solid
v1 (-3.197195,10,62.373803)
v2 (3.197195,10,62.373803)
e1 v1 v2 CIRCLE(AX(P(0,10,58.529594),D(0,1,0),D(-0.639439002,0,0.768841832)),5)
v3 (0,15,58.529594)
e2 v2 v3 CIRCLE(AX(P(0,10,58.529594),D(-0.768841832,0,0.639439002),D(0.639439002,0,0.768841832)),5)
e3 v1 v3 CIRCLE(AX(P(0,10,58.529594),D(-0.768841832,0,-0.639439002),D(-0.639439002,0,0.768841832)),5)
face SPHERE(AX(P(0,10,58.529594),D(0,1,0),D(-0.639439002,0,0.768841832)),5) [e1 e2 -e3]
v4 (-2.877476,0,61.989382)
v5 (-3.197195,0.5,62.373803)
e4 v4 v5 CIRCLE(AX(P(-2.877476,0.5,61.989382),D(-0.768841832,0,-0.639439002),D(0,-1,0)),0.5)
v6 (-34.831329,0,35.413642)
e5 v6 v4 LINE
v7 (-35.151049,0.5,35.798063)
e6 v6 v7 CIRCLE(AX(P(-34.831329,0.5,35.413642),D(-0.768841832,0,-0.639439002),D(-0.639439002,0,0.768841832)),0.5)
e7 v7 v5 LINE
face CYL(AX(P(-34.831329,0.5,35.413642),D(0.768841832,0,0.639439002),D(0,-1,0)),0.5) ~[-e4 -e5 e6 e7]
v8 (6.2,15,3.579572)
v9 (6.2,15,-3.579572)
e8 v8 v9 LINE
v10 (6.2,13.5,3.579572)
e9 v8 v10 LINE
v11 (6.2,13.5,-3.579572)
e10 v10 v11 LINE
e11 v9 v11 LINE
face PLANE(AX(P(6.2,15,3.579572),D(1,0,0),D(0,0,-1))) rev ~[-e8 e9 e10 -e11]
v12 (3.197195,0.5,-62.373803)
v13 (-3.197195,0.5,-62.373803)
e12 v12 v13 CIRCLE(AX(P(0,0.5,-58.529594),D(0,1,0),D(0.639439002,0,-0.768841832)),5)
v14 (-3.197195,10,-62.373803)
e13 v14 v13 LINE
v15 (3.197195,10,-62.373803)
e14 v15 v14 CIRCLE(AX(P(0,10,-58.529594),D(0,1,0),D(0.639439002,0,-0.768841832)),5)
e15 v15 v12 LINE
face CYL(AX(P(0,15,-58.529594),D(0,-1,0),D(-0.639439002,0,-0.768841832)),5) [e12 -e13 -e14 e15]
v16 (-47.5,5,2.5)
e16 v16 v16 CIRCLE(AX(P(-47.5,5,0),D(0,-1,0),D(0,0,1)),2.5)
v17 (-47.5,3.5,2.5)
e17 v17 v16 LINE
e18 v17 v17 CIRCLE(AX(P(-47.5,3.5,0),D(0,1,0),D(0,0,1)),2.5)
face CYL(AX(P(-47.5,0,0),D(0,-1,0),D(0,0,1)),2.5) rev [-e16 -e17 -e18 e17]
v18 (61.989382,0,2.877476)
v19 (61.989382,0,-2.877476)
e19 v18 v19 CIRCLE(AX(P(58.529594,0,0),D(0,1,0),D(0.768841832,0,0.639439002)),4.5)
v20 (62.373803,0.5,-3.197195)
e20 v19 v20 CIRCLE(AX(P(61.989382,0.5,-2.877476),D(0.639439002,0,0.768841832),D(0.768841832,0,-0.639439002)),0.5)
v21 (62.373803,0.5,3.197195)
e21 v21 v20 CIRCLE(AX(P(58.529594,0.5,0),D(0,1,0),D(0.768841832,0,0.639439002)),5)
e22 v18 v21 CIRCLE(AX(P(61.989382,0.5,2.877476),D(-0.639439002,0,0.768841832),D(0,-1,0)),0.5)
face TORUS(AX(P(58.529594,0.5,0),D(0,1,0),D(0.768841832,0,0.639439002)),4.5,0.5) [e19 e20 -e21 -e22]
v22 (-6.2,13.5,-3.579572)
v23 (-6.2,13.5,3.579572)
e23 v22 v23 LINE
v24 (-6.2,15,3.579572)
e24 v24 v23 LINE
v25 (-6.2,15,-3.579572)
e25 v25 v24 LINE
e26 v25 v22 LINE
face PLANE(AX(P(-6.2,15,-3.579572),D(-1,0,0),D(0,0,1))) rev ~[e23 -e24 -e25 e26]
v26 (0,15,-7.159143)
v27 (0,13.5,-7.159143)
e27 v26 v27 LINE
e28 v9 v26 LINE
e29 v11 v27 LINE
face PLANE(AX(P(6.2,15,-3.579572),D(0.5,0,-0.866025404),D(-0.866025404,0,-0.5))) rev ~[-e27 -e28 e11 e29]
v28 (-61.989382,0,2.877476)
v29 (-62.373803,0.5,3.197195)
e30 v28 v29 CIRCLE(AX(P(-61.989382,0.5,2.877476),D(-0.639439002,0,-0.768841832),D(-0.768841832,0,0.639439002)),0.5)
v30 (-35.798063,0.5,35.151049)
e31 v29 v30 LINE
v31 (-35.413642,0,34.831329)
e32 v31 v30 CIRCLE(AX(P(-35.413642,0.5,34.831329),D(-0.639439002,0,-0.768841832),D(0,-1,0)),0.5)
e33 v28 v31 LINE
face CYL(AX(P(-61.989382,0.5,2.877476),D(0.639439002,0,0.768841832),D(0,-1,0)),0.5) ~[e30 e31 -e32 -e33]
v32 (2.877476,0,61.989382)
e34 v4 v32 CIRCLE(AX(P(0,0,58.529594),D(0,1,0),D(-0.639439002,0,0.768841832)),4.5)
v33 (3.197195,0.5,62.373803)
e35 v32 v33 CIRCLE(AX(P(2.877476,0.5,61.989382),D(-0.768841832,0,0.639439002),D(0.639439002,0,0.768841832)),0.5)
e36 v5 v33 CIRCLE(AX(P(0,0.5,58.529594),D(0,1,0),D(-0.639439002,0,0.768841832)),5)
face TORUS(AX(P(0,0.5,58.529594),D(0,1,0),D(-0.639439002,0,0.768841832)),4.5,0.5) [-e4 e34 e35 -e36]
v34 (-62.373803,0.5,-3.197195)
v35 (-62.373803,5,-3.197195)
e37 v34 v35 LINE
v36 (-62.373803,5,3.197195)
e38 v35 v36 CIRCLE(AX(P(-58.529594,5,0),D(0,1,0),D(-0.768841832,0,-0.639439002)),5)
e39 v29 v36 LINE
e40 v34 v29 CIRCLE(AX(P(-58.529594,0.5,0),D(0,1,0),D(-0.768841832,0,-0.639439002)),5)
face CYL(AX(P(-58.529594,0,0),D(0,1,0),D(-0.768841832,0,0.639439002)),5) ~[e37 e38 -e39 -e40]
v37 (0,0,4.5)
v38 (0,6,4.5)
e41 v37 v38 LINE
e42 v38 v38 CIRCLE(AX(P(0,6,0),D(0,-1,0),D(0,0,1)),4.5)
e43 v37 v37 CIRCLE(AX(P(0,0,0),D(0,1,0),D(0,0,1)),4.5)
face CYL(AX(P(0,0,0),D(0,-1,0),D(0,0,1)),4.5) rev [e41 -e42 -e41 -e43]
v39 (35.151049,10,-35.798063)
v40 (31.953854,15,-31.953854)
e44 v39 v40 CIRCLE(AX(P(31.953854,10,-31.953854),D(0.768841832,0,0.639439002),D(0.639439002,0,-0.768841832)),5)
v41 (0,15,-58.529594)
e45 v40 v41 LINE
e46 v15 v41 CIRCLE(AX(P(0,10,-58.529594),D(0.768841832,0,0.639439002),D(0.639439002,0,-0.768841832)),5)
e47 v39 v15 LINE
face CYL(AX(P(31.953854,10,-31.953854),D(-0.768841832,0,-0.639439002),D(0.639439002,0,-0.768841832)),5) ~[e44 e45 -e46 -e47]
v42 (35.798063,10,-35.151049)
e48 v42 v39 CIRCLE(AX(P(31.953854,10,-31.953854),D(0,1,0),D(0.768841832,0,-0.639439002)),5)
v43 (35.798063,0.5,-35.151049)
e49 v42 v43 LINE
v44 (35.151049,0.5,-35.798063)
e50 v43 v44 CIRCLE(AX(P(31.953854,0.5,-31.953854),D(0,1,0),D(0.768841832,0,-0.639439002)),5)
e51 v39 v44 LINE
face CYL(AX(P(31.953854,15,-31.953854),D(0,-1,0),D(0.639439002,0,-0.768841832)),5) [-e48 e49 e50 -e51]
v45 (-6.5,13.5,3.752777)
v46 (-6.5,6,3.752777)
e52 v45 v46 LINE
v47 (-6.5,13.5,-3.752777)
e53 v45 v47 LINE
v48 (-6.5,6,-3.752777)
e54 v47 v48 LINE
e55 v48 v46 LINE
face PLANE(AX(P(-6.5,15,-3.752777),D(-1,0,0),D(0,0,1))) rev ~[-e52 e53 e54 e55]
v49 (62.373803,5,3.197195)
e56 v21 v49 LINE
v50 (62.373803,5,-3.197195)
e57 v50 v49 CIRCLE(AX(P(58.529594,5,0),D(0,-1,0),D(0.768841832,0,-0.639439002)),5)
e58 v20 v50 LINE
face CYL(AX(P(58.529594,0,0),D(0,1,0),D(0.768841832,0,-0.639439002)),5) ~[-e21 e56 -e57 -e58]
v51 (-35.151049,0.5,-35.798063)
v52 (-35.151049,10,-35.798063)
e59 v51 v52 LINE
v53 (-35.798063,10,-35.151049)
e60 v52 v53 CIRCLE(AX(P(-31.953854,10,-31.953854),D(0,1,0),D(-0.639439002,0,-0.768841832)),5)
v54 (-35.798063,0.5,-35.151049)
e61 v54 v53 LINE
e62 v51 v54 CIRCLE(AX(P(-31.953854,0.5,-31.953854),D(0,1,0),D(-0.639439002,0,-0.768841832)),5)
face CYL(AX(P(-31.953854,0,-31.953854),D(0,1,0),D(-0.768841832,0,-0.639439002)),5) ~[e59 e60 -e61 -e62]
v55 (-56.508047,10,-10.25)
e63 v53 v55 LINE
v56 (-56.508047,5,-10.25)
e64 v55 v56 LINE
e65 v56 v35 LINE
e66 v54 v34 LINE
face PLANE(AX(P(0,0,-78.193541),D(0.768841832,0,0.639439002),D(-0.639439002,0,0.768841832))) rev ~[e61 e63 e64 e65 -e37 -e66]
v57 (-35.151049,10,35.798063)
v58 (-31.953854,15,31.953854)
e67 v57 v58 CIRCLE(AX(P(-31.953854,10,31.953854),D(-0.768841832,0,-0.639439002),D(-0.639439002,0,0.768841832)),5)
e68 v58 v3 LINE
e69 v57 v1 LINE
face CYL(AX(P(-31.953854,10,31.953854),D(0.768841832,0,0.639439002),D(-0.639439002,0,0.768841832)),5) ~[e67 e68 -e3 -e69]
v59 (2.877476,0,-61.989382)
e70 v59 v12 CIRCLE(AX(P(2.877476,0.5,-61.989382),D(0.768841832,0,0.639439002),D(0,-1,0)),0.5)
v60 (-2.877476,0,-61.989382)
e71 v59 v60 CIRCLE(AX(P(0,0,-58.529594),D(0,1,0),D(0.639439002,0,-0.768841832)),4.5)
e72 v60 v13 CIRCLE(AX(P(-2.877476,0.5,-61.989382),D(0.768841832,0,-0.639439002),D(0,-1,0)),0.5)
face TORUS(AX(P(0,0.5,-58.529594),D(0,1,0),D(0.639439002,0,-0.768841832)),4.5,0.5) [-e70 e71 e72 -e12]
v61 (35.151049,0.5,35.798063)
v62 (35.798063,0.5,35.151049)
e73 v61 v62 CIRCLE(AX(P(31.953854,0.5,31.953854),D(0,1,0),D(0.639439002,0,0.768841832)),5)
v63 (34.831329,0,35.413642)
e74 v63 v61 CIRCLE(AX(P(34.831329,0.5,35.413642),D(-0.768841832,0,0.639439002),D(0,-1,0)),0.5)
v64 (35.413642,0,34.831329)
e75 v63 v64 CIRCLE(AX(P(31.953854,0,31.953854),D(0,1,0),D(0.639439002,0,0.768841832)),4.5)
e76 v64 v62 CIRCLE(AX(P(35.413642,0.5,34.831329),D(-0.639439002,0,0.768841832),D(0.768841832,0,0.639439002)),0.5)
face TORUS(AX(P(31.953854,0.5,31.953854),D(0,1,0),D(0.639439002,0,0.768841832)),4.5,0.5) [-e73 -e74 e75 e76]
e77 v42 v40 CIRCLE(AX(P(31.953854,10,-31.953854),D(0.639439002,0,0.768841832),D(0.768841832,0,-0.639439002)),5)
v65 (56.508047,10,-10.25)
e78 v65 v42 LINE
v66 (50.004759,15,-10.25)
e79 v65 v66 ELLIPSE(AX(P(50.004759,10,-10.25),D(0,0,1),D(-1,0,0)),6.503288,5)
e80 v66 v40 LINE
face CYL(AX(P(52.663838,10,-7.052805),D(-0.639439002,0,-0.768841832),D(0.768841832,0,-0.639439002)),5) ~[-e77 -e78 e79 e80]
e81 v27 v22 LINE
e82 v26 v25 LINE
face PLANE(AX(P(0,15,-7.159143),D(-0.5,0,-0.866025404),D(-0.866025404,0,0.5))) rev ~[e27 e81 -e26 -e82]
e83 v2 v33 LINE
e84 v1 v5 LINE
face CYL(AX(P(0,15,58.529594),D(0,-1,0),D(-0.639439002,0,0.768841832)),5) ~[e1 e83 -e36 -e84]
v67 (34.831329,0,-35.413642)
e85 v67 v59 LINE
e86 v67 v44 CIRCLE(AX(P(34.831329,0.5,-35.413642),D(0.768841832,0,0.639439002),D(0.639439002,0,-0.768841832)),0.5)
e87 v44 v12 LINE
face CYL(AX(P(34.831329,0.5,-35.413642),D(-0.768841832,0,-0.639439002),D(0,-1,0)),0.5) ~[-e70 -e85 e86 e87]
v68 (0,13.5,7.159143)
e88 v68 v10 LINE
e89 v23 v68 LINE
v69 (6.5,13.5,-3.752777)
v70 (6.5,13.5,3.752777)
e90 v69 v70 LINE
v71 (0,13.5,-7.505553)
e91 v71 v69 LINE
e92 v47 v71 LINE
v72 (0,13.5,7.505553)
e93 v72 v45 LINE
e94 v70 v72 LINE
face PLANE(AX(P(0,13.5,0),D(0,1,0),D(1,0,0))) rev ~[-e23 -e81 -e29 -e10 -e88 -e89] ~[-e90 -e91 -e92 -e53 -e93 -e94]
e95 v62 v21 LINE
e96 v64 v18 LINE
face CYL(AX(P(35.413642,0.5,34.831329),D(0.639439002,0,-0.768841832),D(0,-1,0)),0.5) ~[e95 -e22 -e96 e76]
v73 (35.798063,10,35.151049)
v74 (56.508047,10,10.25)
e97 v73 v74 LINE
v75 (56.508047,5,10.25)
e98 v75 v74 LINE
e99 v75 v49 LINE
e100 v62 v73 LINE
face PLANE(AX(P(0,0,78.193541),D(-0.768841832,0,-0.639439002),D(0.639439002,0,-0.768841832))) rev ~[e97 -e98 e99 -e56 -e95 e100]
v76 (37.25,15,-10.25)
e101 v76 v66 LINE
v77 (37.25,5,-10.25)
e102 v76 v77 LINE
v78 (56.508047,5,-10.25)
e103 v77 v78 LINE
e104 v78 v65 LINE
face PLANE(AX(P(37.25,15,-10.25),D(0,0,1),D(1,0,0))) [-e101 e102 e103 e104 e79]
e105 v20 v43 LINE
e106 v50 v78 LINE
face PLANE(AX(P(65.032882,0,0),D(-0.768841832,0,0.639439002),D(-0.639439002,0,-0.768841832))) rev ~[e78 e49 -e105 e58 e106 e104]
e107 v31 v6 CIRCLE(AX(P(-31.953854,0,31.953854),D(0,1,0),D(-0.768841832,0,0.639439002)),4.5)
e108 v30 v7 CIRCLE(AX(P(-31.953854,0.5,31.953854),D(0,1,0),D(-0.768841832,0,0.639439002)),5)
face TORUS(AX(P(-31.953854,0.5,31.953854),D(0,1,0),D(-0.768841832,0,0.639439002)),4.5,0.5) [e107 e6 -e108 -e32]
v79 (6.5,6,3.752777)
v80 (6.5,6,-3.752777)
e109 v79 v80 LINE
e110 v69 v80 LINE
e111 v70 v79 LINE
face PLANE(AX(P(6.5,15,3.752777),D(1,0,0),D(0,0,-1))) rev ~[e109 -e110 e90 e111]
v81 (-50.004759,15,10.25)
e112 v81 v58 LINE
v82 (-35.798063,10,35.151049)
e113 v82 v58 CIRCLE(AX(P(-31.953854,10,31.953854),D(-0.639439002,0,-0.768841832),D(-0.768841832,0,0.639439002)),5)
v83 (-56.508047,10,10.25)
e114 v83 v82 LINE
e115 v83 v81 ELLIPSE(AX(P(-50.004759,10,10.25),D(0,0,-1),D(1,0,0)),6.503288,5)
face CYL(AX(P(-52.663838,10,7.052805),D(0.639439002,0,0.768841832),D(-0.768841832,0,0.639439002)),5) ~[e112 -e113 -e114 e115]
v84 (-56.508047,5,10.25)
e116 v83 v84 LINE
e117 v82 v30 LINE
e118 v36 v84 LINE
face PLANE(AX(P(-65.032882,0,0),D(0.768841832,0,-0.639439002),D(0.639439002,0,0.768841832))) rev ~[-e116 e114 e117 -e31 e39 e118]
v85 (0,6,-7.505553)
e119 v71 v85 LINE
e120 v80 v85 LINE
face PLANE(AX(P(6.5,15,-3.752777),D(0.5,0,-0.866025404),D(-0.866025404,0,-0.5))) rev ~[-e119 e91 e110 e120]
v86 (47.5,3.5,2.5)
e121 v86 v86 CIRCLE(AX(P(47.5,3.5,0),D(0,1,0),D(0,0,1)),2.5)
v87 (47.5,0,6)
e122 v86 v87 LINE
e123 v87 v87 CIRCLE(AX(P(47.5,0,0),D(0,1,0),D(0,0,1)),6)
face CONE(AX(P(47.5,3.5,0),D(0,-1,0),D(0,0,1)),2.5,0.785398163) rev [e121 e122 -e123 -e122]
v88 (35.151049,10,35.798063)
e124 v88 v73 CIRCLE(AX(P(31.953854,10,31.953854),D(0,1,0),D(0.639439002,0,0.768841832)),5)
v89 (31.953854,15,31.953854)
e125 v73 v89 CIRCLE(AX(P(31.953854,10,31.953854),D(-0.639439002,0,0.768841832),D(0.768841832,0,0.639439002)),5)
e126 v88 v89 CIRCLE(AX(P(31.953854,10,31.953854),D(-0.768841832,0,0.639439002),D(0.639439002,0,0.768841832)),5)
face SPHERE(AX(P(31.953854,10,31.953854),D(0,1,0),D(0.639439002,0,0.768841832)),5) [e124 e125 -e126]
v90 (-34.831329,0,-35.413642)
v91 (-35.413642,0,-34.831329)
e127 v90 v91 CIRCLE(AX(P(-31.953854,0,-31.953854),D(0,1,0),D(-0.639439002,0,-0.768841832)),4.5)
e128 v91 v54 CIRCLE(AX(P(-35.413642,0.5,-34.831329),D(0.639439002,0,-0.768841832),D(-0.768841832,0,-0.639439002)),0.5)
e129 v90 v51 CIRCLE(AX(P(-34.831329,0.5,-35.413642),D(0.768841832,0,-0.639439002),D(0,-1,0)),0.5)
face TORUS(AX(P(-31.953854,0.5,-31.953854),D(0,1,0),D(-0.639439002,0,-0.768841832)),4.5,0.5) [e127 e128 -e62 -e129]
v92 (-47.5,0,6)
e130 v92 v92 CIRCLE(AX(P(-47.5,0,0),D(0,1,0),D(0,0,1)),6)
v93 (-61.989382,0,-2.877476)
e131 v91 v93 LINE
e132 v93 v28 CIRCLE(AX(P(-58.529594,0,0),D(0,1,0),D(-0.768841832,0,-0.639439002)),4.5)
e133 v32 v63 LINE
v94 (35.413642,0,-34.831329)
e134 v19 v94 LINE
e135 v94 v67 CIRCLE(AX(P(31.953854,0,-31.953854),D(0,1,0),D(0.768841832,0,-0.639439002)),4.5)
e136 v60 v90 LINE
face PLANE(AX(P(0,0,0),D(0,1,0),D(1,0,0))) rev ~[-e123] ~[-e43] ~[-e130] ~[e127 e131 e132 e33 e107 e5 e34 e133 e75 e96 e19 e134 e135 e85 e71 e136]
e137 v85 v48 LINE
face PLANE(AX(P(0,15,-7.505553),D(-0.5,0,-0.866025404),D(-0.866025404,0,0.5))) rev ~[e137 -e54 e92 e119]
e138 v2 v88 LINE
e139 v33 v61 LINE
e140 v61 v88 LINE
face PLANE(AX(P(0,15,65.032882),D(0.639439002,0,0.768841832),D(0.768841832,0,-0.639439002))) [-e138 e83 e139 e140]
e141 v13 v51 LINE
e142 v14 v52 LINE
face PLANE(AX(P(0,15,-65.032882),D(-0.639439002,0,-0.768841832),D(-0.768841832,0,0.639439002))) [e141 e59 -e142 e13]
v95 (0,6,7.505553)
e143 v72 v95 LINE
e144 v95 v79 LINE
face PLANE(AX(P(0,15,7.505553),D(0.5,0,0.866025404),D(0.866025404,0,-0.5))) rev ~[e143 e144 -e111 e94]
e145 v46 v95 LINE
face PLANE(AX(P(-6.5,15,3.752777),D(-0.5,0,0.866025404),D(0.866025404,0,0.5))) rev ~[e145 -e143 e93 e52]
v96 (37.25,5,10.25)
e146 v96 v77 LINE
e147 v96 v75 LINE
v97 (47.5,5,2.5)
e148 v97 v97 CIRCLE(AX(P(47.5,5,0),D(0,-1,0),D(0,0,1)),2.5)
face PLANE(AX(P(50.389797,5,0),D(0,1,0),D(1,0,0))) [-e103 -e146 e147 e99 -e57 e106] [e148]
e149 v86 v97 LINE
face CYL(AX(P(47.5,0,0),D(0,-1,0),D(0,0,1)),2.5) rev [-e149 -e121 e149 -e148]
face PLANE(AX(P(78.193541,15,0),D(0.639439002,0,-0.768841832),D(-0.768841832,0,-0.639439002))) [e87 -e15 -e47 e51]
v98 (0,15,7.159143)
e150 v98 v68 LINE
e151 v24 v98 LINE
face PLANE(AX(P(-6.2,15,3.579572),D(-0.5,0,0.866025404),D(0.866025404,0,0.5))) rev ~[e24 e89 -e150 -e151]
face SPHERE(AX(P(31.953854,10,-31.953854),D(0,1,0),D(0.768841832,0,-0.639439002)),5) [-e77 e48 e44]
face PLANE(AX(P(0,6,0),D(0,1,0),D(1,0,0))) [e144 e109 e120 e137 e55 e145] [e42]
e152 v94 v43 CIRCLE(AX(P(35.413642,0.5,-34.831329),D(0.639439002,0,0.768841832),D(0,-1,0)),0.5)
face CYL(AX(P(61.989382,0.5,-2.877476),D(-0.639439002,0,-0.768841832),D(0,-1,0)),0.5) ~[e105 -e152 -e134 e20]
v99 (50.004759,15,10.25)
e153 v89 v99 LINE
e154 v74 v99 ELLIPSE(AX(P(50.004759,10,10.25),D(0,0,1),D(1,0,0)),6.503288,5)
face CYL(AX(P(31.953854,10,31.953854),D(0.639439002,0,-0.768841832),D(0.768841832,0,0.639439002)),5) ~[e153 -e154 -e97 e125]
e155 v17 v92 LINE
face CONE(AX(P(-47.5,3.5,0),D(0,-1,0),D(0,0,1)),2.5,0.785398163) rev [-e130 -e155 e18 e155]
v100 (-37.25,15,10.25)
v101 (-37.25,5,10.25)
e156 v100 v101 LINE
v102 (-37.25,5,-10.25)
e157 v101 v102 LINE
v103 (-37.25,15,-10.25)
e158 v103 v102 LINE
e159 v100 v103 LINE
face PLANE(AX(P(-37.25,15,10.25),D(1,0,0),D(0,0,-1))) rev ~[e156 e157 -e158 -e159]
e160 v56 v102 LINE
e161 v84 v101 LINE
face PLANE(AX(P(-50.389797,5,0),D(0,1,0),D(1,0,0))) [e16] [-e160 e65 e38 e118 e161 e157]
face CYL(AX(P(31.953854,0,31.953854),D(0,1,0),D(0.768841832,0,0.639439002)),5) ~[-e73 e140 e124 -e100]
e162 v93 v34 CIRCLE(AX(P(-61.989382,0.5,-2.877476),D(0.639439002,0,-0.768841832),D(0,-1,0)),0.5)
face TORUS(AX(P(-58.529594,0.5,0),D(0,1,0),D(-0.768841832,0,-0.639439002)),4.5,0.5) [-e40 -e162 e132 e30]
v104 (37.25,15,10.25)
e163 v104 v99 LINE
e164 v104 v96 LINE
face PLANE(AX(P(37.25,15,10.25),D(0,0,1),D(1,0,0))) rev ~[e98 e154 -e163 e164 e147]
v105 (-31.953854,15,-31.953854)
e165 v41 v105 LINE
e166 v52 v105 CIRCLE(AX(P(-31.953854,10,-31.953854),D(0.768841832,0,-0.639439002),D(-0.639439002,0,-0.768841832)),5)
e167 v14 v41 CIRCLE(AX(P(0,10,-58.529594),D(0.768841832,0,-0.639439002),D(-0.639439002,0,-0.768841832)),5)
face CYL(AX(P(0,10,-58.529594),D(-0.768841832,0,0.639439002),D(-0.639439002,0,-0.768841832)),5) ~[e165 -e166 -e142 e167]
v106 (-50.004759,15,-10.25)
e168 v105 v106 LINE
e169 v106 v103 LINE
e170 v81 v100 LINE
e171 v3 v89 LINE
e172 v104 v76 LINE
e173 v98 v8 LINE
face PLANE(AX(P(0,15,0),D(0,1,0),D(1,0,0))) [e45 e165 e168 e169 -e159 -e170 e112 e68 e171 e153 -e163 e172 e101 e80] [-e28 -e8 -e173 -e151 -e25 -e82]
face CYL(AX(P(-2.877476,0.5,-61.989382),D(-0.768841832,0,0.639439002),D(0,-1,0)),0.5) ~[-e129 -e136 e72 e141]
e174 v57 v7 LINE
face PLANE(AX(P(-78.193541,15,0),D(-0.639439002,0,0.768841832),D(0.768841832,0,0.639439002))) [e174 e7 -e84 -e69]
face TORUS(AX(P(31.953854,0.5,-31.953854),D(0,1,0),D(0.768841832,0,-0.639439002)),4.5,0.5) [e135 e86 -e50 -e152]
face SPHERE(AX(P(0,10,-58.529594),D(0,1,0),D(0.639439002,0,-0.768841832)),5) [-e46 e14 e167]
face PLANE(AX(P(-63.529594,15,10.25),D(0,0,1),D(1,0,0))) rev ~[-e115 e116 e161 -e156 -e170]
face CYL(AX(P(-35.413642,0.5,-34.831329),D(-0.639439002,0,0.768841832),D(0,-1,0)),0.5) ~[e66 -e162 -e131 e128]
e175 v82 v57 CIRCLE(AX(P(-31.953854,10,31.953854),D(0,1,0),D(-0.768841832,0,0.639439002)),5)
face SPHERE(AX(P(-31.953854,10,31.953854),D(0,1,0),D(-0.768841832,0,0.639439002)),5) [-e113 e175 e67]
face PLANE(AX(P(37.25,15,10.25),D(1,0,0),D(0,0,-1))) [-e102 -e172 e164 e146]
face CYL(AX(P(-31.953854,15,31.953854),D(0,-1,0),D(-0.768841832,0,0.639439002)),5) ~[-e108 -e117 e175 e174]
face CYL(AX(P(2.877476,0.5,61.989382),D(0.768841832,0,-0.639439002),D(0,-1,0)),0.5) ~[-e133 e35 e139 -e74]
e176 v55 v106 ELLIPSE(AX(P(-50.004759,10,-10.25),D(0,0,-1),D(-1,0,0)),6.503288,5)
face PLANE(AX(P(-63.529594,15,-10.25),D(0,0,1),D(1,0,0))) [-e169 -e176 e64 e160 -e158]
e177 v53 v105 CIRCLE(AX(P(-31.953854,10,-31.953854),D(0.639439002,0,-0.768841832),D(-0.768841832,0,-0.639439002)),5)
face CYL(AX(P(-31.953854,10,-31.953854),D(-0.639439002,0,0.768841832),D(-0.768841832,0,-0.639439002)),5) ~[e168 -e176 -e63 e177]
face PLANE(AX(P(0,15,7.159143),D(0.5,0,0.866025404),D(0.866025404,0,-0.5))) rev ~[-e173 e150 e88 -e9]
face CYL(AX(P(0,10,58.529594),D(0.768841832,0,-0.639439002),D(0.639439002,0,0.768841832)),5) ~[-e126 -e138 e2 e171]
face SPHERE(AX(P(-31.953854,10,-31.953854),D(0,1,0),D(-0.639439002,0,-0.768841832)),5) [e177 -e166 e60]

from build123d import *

# Parameters (mm, degrees)
ESQUISSE1_R             = 4.5
ESQUISSE1_R_2           = 2.5
BOSS_EXTRU_1_DEPTH      = 15
ESQUISSE2_OUTSIDE_W     = 172.858
ESQUISSE2_OUTSIDE_H     = 199.18
ENL_V_MAT_EXTRU_1_DEPTH = 103.80323738
CONG_1_R                = 5
ENL_V_MAT_EXTRU_2_DEPTH = 9
ESQUISSE3_W             = 26.279593634
ESQUISSE3_H             = 20.5
ENL_V_MAT_EXTRU_3_DEPTH = 10
CONG_2_R                = 5
CONG_3_R                = 0.5
ESQUISSE5_R             = 7.505553499
BOSS_EXTRU_2_DEPTH      = 1.5
CHANFREIN1_SIZE         = 3.5


with BuildPart() as part:
    # Esquisse1 → Boss.-Extru.1 (new body)
    with BuildSketch(Plane(origin=(0, 0, 0), x_dir=(1, 0, 0), z_dir=(0, 1, 0))):
        Polygon((-65.032881815, 0), (0, -78.193541284), (65.032881815, 0), (0, 78.193541284), align=None)
        with Locations(Location((0, 0, 0), (0, 0, 270))):
            Circle(ESQUISSE1_R, mode=Mode.SUBTRACT)
        with Locations(Location((-47.5, 0, 0), (0, 0, 270))):
            Circle(ESQUISSE1_R_2, mode=Mode.SUBTRACT)
        with Locations(Location((47.5, 0, 0), (0, 0, 270))):
            Circle(ESQUISSE1_R_2, mode=Mode.SUBTRACT)
    extrude(amount=BOSS_EXTRU_1_DEPTH)

    # Esquisse2 outside → Enlèv. mat.-Extru.1 (cut, through all)
    with BuildSketch(Plane(origin=(0, 15, 0), x_dir=(1, 0, 0), z_dir=(0, 1, 0))):
        Rectangle(ESQUISSE2_OUTSIDE_W, ESQUISSE2_OUTSIDE_H)
        Polygon((0, 65.032881815), (-78.193541284, 0), (0, -65.032881815), (78.193541284, 0), align=None, mode=Mode.SUBTRACT)
    extrude(amount=-ENL_V_MAT_EXTRU_1_DEPTH, mode=Mode.SUBTRACT)

    # Congé1
    cong_1_edges = [part.edges().sort_by_distance(p)[0] for p in [
        (35.504282094, 7.5, -35.504282094),
        (35.504282094, 7.5, 35.504282094),
        (-35.504282094, 7.5, 35.504282094),
        (-35.504282094, 7.5, -35.504282094),
        (0, 7.5, -65.032881815),
        (0, 7.5, 65.032881815),
        (65.032881815, 7.5, 0),
        (-65.032881815, 7.5, 0),
    ]]
    fillet(cong_1_edges, radius=CONG_1_R)

    # Esquisse4 → Enlèv. mat.-Extru.2 (cut)
    with BuildSketch(Plane(origin=(0, 15, 0), x_dir=(1, 0, 0), z_dir=(0, 1, 0))):
        Polygon((6.5, 3.75277675), (0, 7.505553499), (-6.5, 3.75277675), (-6.5, -3.75277675), (0, -7.505553499), (6.5, -3.75277675), align=None)
    extrude(amount=-ENL_V_MAT_EXTRU_2_DEPTH, mode=Mode.SUBTRACT)

    # Esquisse3 → Enlèv. mat.-Extru.3 (cut)
    with BuildSketch(Plane(origin=(0, 15, 0), x_dir=(1, 0, 0), z_dir=(0, 1, 0))):
        with Locations((-50.389796817, 0)):
            Rectangle(ESQUISSE3_W, ESQUISSE3_H)
        with Locations((50.389796817, 0)):
            Rectangle(ESQUISSE3_W, ESQUISSE3_H)
    extrude(amount=-ENL_V_MAT_EXTRU_3_DEPTH, mode=Mode.SUBTRACT)

    # Congé2
    cong_2_edges = [part.edges().sort_by_distance(p)[0] for p in [
        (46.153054923, 15, -22.700524447),
        (-46.153054923, 15, 22.700524447),
        (-19.174121952, 15, -49.08593292),
        (19.174121952, 15, 49.08593292),
        (46.153054923, 15, 22.700524447),
        (19.174121952, 15, -49.08593292),
        (-46.153054923, 15, -22.700524447),
        (-19.174121952, 15, 49.08593292),
        (0, 15, -63.529593634),
        (0, 15, 63.529593634),
        (-35.489387791, 15, 35.489387791),
        (35.489387791, 15, 35.489387791),
        (35.489387791, 15, -35.489387791),
        (-35.489387791, 15, -35.489387791),
    ]]
    fillet(cong_2_edges, radius=CONG_2_R)

    # Congé3
    cong_3_edges = [part.edges().sort_by_distance(p)[0] for p in [
        (-19.174121952, 0, -49.08593292),
        (-49.08593292, 0, -19.174121952),
        (49.08593292, 0, 19.174121952),
        (19.174121952, 0, 49.08593292),
        (-19.174121952, 0, 49.08593292),
        (-49.08593292, 0, 19.174121952),
        (19.174121952, 0, -49.08593292),
        (49.08593292, 0, -19.174121952),
        (-63.529593634, 0, 0),
        (63.529593634, 0, 0),
        (0, 0, -63.529593634),
        (0, 0, 63.529593634),
        (-35.489387791, 0, 35.489387791),
        (35.489387791, 0, 35.489387791),
        (35.489387791, 0, -35.489387791),
        (-35.489387791, 0, -35.489387791),
    ]]
    fillet(cong_3_edges, radius=CONG_3_R)

    # Esquisse5 → Boss.-Extru.2 (add)
    with BuildSketch(Plane(origin=(0, 15, 0), x_dir=(1, 0, 0), z_dir=(0, 1, 0))):
        Circle(ESQUISSE5_R)
        Polygon((6.2, 3.579571669), (0, 7.159143338), (-6.2, 3.579571669), (-6.2, -3.579571669), (0, -7.159143338), (6.2, -3.579571669), align=None, mode=Mode.SUBTRACT)
    extrude(amount=-BOSS_EXTRU_2_DEPTH)

    # Chanfrein1
    chanfrein1_edges = [part.edges().sort_by_distance(p)[0] for p in [
        (-47.5, 0, -2.5),
        (47.5, 0, -2.5),
    ]]
    chamfer(chanfrein1_edges, length=CHANFREIN1_SIZE)


solid = part.part
